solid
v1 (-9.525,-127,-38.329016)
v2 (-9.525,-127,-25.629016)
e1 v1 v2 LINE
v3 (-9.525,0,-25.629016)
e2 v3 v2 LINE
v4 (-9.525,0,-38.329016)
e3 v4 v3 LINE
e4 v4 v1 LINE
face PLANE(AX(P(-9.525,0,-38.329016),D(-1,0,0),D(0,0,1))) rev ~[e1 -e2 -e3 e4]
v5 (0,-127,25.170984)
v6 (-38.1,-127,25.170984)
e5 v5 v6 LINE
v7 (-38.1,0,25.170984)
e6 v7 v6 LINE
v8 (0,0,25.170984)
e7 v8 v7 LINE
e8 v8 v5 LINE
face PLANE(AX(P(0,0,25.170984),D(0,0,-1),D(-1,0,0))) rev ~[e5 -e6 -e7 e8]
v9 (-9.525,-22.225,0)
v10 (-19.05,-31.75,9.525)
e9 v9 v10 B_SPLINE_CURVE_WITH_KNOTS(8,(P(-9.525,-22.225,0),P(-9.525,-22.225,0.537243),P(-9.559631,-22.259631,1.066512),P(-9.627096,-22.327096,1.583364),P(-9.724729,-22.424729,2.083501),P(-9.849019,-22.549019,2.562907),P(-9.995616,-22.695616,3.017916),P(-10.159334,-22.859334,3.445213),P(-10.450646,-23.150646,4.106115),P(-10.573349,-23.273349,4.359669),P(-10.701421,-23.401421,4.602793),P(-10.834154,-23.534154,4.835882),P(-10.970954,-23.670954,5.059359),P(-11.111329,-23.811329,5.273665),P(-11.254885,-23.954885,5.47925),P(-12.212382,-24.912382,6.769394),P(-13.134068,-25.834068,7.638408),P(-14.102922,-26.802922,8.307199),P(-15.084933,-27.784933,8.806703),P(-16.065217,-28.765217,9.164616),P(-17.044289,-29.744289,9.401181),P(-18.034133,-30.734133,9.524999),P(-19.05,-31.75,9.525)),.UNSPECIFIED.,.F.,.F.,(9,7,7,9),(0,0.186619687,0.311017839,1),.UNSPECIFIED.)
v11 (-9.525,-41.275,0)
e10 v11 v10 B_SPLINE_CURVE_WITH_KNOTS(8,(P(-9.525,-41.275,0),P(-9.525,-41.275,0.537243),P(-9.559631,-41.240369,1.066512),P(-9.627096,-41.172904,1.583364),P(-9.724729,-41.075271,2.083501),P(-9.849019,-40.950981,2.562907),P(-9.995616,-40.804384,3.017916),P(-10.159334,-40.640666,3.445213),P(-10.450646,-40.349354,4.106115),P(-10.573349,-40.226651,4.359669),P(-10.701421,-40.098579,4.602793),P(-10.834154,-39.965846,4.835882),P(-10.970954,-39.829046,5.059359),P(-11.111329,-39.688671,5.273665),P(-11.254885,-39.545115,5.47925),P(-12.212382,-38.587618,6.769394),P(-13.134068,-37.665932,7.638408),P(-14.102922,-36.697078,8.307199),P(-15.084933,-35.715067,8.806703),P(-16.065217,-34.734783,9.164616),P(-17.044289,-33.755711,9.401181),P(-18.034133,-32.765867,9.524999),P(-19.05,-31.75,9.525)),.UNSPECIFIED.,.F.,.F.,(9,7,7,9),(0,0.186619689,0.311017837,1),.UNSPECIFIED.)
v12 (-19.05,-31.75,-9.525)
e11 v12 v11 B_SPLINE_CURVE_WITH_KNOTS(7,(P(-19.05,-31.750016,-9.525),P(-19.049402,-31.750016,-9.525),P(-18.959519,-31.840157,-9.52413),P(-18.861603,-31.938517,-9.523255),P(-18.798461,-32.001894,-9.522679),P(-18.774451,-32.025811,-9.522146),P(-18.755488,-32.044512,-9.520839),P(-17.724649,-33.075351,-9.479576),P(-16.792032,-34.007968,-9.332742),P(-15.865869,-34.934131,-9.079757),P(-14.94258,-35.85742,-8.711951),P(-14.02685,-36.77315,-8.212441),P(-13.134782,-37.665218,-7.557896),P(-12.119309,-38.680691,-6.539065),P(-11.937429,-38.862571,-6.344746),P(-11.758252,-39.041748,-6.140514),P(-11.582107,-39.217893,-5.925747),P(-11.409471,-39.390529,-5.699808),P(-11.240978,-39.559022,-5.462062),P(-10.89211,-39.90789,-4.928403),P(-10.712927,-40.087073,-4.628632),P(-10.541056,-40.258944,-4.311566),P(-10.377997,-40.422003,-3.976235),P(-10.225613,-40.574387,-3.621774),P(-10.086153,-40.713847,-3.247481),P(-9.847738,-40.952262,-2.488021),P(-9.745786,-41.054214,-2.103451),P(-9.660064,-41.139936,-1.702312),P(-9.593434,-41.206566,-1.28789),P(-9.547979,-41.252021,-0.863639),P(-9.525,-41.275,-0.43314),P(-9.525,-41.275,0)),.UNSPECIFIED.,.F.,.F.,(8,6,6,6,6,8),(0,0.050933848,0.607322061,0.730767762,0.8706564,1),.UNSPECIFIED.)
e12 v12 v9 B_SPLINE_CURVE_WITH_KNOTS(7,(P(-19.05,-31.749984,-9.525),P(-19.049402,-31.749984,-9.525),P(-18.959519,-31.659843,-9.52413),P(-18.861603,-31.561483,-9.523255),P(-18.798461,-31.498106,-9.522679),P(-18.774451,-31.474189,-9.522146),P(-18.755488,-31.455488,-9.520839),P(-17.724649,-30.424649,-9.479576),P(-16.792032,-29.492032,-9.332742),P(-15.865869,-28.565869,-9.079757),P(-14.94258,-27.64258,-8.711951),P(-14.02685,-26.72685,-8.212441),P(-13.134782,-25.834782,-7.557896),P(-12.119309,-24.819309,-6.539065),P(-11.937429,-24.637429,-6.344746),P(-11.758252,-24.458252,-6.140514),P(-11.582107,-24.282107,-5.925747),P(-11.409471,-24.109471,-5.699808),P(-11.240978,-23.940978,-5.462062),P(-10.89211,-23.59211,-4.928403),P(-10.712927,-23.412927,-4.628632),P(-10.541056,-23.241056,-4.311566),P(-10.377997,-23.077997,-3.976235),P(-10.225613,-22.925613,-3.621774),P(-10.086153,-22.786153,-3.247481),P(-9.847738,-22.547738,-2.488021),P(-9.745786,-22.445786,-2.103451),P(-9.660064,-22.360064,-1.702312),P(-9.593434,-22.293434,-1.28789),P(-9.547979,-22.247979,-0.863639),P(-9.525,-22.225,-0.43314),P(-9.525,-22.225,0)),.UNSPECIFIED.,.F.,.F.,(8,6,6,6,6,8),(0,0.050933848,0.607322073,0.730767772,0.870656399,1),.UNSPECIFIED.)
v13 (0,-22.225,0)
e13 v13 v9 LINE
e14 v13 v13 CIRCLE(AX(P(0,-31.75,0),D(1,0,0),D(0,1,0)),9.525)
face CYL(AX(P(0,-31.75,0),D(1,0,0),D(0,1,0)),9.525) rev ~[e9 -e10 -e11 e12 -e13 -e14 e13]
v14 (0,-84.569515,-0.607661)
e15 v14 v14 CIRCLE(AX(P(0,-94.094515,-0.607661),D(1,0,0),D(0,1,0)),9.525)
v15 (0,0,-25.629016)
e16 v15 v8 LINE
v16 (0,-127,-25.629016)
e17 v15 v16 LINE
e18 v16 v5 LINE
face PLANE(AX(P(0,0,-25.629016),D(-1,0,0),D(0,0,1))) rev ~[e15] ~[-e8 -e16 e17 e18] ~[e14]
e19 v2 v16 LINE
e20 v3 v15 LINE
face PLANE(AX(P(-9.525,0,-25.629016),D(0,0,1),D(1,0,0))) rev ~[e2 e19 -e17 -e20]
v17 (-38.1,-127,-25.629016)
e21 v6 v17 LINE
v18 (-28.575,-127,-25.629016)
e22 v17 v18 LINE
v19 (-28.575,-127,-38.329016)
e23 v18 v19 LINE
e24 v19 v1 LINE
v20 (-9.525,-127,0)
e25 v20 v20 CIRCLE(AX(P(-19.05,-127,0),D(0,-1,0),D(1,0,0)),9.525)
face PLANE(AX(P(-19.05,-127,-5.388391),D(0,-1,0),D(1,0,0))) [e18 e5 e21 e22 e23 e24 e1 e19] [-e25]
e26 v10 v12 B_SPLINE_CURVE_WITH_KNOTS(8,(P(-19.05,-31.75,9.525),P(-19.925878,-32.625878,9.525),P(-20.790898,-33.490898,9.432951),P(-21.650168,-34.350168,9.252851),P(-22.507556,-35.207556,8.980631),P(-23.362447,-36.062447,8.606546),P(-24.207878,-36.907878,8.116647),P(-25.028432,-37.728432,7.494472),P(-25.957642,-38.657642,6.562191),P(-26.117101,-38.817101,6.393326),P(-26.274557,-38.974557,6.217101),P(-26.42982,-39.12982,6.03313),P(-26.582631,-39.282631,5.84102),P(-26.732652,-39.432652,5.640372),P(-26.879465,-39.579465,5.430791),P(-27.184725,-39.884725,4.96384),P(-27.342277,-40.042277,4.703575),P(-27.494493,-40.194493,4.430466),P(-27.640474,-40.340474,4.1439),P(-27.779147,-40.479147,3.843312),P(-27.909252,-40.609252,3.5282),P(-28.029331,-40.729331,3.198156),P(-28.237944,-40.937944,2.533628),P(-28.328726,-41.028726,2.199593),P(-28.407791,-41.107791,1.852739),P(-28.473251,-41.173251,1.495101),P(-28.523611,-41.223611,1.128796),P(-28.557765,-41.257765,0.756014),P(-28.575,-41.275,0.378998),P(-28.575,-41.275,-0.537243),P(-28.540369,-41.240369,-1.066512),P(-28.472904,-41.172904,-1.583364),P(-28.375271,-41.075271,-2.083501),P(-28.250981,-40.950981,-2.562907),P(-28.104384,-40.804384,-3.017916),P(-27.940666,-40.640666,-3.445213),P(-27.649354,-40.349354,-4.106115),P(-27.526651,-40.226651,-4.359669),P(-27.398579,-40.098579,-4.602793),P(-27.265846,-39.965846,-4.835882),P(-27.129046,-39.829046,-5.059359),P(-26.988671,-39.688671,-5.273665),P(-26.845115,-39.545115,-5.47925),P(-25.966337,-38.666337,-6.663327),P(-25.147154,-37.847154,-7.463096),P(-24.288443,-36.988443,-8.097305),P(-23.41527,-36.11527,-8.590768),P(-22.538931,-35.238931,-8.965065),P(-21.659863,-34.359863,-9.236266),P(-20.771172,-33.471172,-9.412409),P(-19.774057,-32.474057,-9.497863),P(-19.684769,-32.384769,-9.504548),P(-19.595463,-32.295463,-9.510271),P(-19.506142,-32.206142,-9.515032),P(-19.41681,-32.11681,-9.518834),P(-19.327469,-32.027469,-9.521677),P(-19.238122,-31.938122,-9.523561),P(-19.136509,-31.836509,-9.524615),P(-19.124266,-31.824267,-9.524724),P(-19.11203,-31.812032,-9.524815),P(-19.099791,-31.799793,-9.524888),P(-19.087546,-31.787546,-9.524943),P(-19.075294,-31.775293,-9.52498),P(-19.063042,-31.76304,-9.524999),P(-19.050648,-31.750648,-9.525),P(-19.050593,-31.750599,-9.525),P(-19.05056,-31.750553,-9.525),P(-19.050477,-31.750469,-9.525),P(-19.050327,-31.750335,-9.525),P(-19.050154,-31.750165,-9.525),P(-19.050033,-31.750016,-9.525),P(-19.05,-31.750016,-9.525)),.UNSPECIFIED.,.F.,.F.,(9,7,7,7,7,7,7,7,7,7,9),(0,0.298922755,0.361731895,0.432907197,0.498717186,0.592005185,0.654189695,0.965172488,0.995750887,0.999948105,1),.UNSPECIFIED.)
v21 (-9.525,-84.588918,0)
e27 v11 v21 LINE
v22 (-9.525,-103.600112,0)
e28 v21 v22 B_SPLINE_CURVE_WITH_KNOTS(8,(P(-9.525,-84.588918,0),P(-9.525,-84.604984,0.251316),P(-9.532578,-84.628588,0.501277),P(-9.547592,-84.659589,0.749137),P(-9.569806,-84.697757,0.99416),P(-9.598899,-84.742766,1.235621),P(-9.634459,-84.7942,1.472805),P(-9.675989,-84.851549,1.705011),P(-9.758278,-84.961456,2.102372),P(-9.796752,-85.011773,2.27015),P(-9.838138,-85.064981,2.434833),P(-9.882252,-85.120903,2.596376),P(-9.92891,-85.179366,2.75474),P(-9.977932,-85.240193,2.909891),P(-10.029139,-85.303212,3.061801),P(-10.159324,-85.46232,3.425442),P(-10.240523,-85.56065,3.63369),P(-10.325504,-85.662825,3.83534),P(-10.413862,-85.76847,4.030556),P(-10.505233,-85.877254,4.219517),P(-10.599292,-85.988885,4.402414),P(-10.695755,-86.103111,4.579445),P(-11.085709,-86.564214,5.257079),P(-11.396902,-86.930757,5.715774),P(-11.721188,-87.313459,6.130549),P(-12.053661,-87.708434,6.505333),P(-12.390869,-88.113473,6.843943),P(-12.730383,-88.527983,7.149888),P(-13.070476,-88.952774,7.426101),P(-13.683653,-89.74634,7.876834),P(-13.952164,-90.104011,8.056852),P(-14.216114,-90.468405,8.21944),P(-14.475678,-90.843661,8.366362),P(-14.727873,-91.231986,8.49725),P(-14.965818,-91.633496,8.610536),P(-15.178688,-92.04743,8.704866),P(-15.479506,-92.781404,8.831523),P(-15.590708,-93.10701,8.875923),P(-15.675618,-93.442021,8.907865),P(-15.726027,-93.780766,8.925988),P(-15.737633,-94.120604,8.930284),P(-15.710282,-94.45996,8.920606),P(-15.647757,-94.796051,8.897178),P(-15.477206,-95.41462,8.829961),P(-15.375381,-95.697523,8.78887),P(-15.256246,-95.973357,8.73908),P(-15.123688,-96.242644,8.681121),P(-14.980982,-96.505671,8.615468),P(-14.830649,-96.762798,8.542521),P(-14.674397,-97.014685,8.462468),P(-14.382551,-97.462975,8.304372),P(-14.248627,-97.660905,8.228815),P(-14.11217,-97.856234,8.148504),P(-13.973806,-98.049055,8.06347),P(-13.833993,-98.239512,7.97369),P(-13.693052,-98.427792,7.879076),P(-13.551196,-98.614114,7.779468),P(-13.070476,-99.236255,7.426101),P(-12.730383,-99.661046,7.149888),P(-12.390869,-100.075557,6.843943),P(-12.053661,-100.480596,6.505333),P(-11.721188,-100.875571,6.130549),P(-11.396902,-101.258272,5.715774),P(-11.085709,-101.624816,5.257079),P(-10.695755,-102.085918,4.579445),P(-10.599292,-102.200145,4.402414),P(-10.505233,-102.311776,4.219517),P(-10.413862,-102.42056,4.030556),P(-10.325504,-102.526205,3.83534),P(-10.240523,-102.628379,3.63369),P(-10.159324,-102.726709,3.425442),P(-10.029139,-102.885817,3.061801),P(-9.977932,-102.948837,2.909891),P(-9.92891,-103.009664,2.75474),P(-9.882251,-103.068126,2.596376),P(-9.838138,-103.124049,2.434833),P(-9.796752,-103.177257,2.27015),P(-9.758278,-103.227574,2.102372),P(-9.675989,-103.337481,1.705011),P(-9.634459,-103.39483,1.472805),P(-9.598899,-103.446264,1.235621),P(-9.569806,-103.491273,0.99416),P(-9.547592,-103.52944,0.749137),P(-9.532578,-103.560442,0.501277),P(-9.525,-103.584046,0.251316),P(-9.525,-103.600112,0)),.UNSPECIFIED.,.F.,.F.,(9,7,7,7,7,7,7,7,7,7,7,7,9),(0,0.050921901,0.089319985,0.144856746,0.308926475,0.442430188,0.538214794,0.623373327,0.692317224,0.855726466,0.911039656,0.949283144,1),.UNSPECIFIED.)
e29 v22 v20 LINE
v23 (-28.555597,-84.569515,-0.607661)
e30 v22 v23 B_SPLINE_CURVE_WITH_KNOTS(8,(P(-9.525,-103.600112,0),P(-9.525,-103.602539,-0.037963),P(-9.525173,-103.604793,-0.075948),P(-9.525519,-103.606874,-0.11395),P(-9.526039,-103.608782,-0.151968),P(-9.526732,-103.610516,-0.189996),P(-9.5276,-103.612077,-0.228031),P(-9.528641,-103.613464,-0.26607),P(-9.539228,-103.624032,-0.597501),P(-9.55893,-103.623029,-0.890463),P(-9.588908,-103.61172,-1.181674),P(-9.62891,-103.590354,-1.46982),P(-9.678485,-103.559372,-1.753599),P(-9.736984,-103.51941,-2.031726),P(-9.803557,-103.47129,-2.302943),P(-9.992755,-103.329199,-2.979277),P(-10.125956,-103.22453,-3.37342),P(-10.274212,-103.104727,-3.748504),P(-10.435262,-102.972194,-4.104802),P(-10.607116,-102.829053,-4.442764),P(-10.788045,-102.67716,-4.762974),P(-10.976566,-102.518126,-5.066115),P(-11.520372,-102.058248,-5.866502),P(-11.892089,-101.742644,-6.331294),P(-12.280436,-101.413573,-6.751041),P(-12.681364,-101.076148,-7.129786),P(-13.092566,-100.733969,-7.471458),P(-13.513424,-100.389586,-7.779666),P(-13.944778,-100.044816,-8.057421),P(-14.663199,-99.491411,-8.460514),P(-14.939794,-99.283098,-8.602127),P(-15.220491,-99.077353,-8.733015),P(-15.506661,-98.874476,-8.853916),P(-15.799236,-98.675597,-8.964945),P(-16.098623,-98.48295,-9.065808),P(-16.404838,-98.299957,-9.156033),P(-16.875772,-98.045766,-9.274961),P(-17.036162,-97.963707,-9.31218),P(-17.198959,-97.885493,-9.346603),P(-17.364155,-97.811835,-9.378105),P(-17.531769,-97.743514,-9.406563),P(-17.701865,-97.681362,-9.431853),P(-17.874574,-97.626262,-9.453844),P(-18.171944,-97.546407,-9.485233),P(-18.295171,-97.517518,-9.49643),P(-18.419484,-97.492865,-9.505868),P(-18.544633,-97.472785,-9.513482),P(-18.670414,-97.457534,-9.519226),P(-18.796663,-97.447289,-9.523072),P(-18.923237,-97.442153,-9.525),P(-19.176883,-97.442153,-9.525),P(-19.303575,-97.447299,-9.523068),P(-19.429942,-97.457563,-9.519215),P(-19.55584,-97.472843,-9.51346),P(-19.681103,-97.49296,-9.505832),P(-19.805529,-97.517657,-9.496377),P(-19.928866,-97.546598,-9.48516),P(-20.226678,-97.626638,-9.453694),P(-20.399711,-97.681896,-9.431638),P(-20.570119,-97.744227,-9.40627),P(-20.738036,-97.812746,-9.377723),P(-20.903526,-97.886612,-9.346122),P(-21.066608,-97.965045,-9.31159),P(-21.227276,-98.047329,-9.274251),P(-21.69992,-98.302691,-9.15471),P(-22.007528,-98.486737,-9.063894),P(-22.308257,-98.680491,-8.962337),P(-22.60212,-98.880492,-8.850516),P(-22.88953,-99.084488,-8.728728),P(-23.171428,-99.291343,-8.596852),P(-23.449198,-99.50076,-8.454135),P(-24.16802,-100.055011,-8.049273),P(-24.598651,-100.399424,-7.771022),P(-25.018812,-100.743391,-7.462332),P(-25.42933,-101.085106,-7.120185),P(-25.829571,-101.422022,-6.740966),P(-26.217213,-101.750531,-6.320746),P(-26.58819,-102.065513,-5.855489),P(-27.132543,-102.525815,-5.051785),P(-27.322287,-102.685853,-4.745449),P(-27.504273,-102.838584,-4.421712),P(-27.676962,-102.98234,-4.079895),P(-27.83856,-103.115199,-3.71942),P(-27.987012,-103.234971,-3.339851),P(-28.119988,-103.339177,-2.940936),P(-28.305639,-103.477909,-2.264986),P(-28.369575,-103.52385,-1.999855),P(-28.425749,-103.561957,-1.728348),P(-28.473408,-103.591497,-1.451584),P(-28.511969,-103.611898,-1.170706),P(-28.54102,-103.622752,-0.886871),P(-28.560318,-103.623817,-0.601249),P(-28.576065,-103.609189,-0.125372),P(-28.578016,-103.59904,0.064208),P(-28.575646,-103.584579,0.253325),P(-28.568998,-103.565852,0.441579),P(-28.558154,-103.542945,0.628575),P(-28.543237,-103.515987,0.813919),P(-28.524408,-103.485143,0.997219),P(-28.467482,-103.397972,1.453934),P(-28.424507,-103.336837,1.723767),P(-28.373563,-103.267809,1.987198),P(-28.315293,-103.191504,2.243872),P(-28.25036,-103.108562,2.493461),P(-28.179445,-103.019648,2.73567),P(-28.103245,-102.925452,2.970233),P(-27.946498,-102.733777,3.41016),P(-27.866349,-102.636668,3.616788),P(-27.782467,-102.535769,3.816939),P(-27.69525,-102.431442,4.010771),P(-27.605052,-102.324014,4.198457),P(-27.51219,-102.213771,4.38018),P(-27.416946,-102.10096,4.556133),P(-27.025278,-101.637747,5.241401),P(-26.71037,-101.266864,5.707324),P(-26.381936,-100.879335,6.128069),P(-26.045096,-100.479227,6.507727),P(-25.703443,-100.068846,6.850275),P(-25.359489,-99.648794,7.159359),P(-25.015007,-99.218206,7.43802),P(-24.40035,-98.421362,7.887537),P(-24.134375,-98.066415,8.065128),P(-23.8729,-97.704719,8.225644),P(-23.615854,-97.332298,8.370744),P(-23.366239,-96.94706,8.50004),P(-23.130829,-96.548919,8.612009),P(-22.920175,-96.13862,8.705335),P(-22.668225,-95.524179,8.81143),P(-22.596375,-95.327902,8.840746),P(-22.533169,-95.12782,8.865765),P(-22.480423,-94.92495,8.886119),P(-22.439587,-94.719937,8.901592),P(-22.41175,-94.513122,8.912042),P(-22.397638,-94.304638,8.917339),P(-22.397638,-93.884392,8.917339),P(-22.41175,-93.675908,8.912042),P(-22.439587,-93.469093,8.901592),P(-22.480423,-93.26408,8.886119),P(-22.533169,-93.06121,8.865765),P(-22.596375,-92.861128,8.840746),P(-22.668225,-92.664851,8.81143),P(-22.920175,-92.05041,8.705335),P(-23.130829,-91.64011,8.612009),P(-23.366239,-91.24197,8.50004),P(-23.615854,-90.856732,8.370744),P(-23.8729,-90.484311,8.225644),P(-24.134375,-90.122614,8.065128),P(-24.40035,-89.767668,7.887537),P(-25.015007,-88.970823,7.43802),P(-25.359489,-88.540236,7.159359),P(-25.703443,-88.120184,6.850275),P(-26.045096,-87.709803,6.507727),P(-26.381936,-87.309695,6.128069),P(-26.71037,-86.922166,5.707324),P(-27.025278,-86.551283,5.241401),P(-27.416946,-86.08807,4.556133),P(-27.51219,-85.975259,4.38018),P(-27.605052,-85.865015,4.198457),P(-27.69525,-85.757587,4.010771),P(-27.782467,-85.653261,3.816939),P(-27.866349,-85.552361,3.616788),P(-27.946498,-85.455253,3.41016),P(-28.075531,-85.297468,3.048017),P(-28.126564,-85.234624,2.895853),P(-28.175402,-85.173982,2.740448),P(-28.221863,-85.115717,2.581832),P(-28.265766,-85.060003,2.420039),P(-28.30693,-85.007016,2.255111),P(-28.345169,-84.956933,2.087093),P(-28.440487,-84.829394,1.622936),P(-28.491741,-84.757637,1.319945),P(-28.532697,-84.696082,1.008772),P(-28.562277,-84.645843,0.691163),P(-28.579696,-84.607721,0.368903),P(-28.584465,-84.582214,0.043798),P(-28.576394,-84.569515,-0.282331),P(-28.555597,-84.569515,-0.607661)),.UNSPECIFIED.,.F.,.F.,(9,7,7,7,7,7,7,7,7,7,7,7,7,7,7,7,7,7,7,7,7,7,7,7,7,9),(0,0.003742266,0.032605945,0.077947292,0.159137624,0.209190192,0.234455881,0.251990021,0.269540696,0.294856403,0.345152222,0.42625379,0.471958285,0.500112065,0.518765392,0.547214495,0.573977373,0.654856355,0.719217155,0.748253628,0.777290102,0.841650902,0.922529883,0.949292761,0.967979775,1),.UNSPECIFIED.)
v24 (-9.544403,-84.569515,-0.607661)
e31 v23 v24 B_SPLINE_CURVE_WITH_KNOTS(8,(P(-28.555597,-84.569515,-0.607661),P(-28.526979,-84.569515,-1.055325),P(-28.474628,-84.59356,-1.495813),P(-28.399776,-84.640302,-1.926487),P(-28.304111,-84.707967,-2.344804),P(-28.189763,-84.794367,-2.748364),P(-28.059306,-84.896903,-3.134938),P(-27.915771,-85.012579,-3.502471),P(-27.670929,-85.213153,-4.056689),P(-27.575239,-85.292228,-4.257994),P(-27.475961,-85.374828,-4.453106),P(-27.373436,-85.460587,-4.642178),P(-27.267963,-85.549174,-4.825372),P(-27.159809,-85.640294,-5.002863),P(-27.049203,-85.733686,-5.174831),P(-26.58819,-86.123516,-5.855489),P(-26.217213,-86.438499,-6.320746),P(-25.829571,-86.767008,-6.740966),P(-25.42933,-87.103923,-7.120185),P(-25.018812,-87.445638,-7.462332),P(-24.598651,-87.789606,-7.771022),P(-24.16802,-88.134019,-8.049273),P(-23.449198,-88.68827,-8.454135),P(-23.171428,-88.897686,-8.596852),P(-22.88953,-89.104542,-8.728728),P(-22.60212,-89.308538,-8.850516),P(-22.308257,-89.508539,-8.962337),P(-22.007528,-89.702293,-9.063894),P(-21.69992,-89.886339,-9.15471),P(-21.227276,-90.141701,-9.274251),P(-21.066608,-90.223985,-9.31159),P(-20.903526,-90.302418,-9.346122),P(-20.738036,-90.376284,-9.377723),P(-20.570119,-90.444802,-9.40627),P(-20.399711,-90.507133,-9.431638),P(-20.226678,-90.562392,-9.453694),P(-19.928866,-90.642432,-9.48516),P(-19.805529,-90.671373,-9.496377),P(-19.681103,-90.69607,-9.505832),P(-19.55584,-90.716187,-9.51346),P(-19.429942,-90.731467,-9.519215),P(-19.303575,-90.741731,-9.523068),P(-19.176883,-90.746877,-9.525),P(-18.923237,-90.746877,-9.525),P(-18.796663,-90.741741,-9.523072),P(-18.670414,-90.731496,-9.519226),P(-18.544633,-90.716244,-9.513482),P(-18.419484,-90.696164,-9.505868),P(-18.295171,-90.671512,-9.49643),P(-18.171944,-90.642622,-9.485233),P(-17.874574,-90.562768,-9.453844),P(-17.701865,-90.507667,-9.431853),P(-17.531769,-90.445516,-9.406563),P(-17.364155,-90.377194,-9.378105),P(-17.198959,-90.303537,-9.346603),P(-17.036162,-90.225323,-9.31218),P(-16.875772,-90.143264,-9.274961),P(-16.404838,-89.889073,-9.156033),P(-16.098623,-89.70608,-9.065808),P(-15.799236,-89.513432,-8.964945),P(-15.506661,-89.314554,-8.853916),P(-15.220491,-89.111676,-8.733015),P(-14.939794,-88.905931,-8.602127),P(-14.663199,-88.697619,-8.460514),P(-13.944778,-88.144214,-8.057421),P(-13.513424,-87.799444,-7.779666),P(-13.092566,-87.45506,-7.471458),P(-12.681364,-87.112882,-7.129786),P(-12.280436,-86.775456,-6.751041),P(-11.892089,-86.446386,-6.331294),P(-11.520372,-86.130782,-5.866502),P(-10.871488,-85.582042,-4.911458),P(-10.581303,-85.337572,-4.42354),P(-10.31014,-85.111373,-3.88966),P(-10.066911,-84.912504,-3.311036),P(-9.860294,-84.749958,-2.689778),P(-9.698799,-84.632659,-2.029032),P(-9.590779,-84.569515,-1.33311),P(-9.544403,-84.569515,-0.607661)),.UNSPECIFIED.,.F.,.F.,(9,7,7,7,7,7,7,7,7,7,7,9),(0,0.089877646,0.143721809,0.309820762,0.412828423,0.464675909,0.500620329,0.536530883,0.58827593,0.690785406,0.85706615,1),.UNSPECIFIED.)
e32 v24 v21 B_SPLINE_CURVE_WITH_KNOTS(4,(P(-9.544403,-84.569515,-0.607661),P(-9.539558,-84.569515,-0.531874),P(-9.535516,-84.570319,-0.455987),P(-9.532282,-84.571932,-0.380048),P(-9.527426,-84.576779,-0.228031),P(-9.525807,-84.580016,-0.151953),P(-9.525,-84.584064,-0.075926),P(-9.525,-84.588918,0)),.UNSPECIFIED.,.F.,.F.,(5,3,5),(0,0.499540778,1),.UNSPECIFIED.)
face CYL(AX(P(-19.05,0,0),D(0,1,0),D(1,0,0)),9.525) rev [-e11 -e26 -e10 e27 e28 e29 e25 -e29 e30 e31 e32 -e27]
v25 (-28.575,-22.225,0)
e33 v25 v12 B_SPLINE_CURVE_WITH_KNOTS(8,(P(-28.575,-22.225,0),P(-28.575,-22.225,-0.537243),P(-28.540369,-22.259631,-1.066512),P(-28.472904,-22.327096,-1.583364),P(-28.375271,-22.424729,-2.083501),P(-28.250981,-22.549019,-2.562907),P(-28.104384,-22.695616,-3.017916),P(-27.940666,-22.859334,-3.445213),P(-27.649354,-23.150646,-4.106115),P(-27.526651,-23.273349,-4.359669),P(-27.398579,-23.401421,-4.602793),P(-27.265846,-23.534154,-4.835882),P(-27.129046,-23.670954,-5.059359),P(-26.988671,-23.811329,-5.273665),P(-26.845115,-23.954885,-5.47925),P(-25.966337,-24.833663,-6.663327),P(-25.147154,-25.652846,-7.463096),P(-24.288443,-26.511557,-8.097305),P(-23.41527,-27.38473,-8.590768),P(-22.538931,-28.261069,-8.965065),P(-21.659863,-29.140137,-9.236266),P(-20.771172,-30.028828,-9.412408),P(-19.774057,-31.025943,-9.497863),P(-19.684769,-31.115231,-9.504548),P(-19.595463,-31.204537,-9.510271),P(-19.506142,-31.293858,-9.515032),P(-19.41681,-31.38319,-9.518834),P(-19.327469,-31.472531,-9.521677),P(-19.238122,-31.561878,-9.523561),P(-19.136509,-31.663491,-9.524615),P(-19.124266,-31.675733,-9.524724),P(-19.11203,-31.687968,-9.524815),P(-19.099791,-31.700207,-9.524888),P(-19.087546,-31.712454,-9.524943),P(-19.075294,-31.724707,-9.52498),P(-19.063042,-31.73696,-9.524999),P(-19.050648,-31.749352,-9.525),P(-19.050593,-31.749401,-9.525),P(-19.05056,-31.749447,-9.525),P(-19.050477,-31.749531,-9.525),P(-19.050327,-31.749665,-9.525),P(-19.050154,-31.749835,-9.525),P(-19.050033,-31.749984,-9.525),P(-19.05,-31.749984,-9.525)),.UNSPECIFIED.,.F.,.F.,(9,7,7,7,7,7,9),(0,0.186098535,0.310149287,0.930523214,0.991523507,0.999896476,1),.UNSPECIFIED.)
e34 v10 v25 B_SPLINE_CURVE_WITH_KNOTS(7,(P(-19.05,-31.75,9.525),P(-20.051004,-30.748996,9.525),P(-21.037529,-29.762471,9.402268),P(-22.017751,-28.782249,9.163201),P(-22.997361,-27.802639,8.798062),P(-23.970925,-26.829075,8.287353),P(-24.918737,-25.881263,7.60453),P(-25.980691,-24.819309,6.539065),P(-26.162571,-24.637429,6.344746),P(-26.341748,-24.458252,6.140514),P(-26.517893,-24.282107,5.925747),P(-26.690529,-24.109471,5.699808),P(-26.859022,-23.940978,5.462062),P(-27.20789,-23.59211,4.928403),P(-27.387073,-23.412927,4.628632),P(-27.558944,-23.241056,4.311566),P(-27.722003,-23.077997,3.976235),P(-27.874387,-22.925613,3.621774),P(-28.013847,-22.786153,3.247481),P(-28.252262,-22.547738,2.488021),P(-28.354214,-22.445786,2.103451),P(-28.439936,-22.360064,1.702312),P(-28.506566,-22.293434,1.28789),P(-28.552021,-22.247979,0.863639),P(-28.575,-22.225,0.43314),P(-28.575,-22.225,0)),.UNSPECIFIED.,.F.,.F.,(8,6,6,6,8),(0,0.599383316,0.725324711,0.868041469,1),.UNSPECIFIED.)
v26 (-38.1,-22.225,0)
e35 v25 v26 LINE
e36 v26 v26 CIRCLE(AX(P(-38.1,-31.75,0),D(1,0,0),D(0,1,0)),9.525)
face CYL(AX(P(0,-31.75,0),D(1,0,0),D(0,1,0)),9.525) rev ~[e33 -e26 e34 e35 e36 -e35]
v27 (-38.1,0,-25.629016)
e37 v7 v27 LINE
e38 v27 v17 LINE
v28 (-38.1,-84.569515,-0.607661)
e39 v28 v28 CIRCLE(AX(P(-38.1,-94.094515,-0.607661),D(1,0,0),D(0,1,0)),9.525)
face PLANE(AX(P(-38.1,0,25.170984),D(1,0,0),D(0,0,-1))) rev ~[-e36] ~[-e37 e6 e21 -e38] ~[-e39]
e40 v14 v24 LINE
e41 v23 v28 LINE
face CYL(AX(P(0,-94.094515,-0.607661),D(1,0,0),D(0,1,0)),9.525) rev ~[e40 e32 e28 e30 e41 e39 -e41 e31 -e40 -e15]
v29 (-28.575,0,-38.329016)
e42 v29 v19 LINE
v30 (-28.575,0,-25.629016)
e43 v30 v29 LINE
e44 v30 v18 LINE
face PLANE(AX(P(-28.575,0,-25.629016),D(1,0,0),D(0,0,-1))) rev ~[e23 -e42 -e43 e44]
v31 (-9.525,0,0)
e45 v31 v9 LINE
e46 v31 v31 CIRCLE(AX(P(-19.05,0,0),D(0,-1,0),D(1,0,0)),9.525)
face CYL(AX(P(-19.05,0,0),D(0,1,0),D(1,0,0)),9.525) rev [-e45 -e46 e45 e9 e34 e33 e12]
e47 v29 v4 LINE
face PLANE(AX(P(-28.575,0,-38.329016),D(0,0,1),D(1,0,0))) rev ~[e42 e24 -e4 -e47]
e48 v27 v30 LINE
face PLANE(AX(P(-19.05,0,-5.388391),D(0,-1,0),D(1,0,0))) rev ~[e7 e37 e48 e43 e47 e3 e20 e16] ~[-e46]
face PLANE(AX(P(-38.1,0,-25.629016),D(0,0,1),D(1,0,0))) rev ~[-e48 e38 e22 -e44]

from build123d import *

# Parameters (mm, degrees)
F0_R     = 9.525
F1_DEPTH = 127
F2_R     = 9.525
F3_DEPTH = 60.96


with BuildPart() as f1:
    # F0 (on Front) → F1 (new body)
    with BuildSketch(Plane.XZ):
        Polygon((-28.575, -25.6290164173), (-28.575, -38.3290164173), (-9.525, -38.3290164173), (-9.525, -25.6290164173), (0, -25.6290164173), (0, 25.1709835827), (-38.1, 25.1709835827), (-38.1, -25.6290164173), align=None)
        with Locations((-19.05, 0)):
            Circle(F0_R, mode=Mode.SUBTRACT)
    extrude(amount=F1_DEPTH)

    # F2 (on Right) → F3 (cut)
    with BuildSketch(Plane.YZ):
        with BuildLine():
            ThreePointArc((-22.225, 0), (-25.0148079092, 6.7351920908), (-31.75, 9.525))
            Line((-31.75, 9.525), (-31.75, -9.525))
            ThreePointArc((-31.75, -9.525), (-25.0148079092, -6.7351920908), (-22.225, 0))
        make_face()
        with BuildLine():
            Line((-31.75, -9.525), (-31.75, 9.525))
            ThreePointArc((-31.75, 9.525), (-41.275, 0), (-31.75, -9.525))
        make_face()
        with Locations((-94.0945148468, -0.607660502)):
            Circle(F2_R)
    extrude(amount=-F3_DEPTH, mode=Mode.SUBTRACT)


solid = f1.part
